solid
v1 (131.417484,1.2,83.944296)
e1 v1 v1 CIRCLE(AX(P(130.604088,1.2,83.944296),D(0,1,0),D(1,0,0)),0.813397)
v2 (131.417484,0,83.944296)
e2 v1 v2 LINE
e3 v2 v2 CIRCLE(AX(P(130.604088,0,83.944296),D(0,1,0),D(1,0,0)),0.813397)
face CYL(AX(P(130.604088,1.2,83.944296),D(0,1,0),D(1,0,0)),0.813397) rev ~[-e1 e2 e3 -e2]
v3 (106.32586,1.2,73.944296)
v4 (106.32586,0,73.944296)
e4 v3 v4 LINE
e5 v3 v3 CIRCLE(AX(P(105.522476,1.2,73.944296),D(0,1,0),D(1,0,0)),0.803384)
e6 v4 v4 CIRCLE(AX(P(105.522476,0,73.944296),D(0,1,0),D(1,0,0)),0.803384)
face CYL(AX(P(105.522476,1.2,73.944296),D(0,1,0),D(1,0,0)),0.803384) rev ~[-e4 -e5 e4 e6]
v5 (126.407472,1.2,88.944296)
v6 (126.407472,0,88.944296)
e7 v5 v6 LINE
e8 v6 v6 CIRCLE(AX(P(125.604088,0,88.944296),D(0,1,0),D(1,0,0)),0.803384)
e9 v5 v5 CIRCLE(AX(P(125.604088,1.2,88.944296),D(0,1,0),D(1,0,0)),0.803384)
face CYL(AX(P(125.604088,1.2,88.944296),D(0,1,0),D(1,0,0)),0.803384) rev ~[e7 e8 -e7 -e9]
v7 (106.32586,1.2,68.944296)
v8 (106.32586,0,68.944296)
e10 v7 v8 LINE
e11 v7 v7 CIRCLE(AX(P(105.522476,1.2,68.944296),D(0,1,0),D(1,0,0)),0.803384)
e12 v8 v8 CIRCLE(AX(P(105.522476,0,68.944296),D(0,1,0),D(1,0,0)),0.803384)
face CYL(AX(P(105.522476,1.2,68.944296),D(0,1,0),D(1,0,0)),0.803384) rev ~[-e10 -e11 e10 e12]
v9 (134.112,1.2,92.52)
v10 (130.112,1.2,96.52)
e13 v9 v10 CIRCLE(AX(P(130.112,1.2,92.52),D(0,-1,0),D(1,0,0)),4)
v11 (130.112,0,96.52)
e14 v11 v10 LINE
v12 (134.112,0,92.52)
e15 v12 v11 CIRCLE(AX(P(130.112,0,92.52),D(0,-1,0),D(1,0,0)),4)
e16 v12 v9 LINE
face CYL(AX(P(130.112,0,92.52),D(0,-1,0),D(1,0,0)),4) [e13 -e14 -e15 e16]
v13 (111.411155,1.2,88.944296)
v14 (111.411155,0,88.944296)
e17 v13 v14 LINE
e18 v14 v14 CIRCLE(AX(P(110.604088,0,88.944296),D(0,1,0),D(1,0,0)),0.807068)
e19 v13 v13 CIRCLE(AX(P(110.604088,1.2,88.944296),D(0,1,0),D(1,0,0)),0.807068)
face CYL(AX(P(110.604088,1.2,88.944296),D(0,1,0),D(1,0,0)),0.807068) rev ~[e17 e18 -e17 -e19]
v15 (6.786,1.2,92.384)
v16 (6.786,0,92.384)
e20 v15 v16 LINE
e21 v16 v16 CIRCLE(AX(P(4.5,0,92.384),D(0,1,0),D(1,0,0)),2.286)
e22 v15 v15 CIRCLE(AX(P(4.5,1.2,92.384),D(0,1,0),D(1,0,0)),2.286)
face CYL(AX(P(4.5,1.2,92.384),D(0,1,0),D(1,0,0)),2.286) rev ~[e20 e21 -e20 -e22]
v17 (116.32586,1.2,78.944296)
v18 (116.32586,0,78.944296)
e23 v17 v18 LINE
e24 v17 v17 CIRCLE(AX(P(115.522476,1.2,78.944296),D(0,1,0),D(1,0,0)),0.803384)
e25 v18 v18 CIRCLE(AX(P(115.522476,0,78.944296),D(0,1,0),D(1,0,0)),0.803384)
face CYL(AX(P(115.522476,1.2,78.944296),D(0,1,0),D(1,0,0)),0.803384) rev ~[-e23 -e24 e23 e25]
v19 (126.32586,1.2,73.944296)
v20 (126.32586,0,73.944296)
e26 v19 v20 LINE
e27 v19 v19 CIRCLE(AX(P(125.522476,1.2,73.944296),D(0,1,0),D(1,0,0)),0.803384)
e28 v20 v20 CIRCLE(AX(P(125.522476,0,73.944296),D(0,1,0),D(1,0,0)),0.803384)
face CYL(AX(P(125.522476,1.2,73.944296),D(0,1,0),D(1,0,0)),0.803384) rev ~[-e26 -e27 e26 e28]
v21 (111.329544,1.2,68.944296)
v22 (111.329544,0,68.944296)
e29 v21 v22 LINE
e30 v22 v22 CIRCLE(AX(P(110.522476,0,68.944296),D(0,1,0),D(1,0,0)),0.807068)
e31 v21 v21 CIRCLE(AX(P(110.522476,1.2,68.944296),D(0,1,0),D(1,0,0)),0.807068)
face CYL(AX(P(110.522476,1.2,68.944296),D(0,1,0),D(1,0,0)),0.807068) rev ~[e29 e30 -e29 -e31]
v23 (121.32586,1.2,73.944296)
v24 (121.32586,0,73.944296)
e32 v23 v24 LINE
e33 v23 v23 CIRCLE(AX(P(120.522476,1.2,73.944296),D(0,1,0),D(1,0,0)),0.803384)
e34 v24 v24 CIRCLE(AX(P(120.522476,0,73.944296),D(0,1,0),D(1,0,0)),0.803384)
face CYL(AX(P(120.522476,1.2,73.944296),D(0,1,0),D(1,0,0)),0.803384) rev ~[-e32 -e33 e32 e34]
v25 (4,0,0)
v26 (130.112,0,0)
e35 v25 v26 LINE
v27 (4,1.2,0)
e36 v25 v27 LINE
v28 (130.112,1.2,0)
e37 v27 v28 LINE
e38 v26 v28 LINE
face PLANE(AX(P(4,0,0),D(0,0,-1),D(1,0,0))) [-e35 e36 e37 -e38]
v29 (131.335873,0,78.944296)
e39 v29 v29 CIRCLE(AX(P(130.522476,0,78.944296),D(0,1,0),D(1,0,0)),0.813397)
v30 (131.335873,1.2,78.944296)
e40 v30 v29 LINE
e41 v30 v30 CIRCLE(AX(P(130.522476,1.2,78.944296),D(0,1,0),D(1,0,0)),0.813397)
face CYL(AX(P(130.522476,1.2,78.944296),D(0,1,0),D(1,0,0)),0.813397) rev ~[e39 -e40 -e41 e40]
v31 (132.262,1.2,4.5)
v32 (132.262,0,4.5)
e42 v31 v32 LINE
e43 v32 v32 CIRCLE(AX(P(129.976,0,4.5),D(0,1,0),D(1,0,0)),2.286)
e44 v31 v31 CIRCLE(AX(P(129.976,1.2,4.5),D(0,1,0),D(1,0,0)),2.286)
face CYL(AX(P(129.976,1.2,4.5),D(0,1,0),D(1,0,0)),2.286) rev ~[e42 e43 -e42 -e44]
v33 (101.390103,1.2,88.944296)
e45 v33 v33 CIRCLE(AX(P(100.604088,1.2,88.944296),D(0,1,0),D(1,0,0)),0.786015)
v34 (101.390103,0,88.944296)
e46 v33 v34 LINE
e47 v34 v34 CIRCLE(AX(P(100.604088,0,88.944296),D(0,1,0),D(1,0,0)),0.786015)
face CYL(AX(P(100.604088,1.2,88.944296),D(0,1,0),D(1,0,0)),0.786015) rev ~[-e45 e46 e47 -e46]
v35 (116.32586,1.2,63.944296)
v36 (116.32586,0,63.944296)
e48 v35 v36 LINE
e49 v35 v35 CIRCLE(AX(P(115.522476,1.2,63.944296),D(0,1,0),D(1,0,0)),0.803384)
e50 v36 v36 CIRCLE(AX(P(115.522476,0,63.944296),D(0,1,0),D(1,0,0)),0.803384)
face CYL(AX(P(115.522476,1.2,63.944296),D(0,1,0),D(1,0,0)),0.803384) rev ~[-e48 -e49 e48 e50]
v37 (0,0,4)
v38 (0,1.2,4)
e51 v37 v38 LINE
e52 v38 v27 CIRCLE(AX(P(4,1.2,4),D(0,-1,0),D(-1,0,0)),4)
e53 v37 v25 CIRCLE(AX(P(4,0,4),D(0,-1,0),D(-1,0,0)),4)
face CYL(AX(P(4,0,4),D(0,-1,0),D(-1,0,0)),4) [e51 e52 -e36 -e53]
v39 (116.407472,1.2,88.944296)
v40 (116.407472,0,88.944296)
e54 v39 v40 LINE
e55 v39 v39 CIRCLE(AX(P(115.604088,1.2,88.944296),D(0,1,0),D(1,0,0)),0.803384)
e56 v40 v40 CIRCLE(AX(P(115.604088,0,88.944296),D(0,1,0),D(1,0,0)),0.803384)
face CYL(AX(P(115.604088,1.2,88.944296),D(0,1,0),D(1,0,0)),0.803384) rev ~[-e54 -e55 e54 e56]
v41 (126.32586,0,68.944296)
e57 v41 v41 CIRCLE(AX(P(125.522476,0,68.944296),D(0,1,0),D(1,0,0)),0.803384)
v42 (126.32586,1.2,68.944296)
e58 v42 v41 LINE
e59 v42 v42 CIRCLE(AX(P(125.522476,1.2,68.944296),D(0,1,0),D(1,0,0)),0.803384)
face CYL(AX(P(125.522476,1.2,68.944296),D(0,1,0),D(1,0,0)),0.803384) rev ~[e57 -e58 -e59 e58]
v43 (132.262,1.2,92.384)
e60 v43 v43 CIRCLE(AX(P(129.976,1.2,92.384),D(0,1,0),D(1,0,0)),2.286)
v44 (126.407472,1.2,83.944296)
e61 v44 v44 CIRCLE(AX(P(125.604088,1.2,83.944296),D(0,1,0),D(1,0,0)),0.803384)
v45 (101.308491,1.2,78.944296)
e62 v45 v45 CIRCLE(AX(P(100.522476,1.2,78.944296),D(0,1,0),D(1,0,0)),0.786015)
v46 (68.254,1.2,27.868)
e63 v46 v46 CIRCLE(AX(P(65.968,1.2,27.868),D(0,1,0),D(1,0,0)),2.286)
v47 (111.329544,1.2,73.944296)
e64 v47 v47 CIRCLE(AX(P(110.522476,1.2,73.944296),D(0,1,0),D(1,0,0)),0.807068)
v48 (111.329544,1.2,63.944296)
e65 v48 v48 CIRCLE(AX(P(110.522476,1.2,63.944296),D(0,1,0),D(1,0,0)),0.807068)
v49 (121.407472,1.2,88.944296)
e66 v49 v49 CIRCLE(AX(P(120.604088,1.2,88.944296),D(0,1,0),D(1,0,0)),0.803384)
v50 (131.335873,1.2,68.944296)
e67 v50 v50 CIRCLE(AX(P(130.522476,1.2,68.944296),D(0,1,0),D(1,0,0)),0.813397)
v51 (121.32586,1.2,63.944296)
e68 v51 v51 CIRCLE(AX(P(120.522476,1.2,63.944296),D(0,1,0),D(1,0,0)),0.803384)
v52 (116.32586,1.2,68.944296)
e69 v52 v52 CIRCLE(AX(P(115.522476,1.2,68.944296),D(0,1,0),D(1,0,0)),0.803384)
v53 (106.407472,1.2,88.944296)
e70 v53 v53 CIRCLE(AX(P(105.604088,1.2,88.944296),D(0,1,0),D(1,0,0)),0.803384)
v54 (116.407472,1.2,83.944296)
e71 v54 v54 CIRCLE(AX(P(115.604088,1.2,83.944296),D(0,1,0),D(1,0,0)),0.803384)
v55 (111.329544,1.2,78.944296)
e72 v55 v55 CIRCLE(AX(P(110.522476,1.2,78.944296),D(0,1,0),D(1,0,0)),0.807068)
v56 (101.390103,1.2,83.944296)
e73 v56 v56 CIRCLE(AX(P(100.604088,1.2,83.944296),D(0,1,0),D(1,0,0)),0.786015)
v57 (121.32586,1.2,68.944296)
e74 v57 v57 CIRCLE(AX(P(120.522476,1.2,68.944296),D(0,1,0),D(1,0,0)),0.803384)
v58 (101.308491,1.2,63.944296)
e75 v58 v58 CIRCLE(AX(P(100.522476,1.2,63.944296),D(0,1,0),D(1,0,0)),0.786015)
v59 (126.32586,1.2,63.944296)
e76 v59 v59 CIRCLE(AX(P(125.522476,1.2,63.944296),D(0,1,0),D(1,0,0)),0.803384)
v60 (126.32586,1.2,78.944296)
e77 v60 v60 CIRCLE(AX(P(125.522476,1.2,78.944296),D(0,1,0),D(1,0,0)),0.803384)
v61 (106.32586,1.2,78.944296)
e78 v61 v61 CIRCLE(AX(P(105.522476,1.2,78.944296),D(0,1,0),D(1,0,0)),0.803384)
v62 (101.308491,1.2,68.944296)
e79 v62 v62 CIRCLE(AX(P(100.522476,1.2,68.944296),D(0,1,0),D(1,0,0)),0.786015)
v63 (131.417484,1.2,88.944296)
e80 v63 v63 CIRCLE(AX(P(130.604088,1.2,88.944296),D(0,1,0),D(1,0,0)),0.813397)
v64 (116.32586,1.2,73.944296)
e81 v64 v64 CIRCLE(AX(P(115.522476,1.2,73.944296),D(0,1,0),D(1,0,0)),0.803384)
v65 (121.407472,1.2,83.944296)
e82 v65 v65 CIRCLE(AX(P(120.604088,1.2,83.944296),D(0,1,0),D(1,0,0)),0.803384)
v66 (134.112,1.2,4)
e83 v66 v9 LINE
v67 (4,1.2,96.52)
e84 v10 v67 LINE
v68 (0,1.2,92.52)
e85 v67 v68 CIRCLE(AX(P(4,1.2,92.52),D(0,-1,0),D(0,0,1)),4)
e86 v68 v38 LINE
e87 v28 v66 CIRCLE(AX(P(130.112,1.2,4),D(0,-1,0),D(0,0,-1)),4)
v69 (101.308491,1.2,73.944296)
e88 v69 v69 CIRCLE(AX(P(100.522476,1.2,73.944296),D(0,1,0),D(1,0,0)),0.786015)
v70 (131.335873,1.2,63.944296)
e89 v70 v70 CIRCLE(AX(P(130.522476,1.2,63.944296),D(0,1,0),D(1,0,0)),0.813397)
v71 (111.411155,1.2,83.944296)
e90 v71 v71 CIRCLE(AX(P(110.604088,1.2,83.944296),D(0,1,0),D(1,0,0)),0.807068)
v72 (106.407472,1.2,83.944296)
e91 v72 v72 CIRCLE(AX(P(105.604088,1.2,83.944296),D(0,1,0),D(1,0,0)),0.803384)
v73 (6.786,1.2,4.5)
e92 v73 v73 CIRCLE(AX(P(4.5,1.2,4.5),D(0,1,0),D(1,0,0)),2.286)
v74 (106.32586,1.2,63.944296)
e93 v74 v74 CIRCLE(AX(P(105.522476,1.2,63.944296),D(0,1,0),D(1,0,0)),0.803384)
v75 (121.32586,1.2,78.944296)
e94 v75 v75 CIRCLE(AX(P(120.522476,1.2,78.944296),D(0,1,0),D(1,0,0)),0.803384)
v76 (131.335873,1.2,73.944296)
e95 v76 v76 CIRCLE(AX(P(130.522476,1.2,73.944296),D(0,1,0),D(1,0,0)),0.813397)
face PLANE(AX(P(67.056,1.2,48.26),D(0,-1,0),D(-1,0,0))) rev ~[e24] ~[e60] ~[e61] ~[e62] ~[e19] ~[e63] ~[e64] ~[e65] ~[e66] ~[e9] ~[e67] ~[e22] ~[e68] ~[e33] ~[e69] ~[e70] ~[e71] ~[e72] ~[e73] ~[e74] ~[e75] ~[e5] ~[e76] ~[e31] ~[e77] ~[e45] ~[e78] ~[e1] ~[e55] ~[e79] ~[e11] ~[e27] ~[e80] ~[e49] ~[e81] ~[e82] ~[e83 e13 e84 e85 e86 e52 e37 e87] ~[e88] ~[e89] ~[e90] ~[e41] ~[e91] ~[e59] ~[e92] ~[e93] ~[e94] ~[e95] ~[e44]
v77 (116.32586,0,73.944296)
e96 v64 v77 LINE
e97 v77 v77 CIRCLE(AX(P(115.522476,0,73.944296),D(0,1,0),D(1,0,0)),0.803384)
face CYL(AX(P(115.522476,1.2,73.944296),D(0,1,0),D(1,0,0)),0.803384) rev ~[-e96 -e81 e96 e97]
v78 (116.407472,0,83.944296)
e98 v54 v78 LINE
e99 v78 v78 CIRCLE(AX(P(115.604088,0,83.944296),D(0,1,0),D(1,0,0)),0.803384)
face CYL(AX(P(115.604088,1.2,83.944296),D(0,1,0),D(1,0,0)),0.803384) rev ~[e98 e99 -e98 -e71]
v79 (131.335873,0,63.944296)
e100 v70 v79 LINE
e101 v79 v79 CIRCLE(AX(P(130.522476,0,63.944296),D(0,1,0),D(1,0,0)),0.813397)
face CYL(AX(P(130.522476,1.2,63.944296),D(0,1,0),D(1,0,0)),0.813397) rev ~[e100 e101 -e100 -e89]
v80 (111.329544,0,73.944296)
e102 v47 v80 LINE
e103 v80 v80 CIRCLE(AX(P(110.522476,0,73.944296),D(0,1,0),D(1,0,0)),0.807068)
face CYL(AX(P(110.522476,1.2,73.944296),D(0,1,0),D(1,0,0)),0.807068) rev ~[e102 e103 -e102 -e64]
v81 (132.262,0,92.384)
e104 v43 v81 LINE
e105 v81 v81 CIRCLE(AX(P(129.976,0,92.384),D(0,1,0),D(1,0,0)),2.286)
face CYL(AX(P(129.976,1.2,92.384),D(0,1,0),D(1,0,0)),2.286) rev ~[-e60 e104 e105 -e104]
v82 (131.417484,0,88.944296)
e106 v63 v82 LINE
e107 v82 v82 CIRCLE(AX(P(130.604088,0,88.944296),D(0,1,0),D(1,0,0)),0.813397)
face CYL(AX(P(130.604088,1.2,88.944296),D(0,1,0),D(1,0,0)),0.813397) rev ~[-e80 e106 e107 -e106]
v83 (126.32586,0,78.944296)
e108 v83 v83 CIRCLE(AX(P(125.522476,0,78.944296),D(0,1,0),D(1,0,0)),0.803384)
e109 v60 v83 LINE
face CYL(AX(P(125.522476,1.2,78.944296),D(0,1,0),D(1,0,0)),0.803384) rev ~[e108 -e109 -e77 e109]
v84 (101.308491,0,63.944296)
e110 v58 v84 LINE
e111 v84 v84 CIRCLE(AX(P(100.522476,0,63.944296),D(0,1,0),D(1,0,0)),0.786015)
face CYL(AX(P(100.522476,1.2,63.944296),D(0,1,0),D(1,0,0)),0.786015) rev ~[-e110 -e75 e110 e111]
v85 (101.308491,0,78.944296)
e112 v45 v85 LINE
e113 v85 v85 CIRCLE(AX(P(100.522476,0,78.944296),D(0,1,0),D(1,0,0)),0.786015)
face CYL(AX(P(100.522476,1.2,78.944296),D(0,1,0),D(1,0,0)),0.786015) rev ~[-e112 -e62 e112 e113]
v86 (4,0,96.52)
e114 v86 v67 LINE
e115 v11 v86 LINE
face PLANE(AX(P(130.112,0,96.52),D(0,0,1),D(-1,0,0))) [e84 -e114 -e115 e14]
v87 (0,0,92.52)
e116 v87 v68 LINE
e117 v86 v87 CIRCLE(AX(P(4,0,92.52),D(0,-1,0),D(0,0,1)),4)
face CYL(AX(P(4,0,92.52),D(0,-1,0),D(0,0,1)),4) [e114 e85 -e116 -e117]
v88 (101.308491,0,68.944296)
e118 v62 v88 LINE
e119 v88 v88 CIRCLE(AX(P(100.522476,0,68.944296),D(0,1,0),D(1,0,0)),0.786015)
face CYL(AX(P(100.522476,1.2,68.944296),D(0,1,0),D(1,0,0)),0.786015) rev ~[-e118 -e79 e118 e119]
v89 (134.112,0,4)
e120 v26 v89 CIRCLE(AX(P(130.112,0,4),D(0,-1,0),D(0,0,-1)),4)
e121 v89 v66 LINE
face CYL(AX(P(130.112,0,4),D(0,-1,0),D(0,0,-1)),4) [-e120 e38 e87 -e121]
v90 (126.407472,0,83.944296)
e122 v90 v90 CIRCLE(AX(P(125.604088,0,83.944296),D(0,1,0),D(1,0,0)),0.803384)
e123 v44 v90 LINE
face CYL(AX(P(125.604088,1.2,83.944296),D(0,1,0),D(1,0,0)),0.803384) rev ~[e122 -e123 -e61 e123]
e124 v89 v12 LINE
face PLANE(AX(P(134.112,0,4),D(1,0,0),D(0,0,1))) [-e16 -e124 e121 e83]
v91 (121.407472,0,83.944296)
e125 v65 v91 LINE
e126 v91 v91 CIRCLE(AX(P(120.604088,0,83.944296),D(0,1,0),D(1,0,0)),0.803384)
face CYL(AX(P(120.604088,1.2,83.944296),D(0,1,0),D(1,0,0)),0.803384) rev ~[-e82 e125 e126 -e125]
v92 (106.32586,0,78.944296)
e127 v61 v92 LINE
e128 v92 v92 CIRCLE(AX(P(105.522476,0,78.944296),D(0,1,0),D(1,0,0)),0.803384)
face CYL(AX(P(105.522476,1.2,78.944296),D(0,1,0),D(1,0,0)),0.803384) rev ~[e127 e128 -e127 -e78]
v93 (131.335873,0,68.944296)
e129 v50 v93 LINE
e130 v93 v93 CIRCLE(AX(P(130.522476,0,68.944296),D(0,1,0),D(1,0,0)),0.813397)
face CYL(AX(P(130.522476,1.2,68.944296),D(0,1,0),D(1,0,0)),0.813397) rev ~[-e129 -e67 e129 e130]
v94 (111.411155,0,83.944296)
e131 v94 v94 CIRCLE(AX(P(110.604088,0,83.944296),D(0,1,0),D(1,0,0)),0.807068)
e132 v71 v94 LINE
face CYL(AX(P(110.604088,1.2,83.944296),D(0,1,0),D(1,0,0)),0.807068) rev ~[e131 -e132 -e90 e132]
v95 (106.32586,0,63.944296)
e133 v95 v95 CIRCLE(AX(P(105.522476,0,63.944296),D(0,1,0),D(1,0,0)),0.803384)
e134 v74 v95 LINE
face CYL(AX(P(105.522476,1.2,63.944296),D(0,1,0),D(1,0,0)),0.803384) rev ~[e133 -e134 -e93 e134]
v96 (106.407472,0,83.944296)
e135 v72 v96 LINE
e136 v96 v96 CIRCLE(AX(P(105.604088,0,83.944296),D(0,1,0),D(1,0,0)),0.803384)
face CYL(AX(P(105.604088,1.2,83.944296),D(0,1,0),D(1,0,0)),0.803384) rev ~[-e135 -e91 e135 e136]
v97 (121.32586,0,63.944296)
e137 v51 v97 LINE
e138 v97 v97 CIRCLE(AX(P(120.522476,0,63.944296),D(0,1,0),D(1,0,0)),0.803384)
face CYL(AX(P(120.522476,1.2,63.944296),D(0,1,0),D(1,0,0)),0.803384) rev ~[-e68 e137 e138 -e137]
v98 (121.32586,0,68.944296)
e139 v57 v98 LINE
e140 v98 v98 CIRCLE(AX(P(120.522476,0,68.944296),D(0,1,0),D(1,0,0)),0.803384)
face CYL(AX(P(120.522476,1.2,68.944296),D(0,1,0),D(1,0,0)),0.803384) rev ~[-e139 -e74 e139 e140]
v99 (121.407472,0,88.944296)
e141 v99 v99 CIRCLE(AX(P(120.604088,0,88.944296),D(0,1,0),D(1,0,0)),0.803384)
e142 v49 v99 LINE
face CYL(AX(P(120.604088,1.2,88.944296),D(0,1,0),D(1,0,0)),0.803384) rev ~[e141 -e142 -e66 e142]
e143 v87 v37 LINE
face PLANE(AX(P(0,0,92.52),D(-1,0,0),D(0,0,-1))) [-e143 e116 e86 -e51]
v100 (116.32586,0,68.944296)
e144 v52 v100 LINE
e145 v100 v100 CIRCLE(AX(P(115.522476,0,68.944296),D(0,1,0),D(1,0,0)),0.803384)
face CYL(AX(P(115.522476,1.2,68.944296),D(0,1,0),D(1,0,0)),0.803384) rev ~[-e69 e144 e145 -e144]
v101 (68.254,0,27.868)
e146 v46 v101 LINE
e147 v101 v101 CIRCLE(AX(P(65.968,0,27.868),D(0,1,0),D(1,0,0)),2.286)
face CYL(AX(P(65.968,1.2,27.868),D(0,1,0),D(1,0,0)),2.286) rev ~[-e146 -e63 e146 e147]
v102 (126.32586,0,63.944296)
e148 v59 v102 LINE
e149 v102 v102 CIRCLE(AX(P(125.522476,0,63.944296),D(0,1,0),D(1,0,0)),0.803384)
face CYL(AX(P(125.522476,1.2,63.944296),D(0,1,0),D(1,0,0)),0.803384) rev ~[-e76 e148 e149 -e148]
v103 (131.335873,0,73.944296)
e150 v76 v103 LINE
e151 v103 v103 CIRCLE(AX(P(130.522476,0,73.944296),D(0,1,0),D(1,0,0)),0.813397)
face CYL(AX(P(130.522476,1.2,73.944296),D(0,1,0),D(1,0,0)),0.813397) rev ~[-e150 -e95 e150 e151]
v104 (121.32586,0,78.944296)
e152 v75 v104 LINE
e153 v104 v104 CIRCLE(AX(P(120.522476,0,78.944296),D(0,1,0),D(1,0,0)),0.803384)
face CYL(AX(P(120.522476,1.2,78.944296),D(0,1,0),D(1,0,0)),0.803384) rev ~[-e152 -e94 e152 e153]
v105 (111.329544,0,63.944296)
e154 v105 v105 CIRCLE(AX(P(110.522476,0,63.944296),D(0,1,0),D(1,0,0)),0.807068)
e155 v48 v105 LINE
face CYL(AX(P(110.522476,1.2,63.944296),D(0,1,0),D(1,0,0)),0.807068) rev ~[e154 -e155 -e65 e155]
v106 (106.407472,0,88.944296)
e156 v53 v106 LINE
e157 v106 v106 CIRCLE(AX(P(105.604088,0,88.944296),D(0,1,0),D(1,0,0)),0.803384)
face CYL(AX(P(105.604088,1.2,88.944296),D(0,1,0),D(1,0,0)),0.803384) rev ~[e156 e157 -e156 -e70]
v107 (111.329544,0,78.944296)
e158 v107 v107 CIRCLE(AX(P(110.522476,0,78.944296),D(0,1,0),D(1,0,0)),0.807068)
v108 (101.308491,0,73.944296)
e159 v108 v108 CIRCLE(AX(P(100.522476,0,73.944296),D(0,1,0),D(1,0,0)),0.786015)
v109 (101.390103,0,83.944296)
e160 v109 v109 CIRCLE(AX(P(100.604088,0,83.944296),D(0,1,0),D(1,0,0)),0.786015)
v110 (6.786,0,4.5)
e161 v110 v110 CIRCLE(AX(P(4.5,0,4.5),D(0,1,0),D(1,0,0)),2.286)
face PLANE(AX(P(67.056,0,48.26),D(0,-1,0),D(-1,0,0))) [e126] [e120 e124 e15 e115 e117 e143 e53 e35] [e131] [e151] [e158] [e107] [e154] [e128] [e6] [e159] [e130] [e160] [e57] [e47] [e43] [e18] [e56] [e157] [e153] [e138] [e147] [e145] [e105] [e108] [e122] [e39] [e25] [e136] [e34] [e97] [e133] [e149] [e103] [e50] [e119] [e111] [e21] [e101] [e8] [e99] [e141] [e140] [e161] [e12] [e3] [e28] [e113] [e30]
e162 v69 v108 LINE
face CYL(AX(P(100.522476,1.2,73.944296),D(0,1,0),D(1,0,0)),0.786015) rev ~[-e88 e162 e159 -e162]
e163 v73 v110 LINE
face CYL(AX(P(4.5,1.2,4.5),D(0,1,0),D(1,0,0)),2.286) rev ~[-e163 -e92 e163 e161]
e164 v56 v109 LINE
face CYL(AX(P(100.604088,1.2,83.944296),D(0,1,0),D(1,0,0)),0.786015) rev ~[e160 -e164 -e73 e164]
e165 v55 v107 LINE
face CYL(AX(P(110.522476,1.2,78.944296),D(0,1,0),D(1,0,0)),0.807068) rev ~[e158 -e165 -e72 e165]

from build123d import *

# Parameters (mm, degrees)
EXTRUSION1_DEPTH        = 1.2
ENL_V_MAT_EXTRU_2_REACH = 3.2
TROUS_FIXATION_R        = 2.286
ESQUISSE4_R             = 0.786015169
ESQUISSE4_R_2           = 0.803384231
ESQUISSE4_R_3           = 0.807067653
ESQUISSE4_R_4           = 0.813396678
ENL_V_MAT_EXTRU_3_DEPTH = 1.2


with BuildPart() as part:
    # Carte → Extrusion1 (new body)
    with BuildSketch(Plane(origin=(0, 0, 0), x_dir=(1, 0, 0), z_dir=(0, 1, 0))):
        with BuildLine():
            Line((4, 0), (130.112, 0))
            ThreePointArc((130.112, 0), (132.940427125, -1.171572875), (134.112, -4))
            Line((134.112, -4), (134.112, -92.52))
            ThreePointArc((134.112, -92.52), (132.940427125, -95.348427125), (130.112, -96.52))
            Line((130.112, -96.52), (4, -96.52))
            ThreePointArc((4, -96.52), (1.171572875, -95.348427125), (0, -92.52))
            Line((0, -92.52), (0, -4))
            ThreePointArc((0, -4), (1.171572875, -1.171572875), (4, 0))
        make_face()
    extrude(amount=EXTRUSION1_DEPTH)

    # Trous fixation → Enlèv. mat.-Extru.2 (cut, up to next)
    with BuildSketch(Plane(origin=(0, 1.2, 0), x_dir=(1, 0, 0), z_dir=(0, 1, 0)), mode=Mode.PRIVATE) as enl_v_mat_extru_2_sk1:
        with Locations((4.5, -4.5)):
            Circle(TROUS_FIXATION_R)
    enl_v_mat_extru_2_tool1 = extrude(enl_v_mat_extru_2_sk1.sketch, amount=-ENL_V_MAT_EXTRU_2_REACH, mode=Mode.PRIVATE) & part.part
    add(enl_v_mat_extru_2_tool1.solids().sort_by_distance((4.5, 1.2, 4.5))[0], mode=Mode.SUBTRACT)
    # Trous fixation → Enlèv. mat.-Extru.2 (cut, up to next)
    with BuildSketch(Plane(origin=(0, 1.2, 0), x_dir=(1, 0, 0), z_dir=(0, 1, 0)), mode=Mode.PRIVATE) as enl_v_mat_extru_2_sk2:
        with Locations((129.976, -4.5)):
            Circle(TROUS_FIXATION_R)
    enl_v_mat_extru_2_tool2 = extrude(enl_v_mat_extru_2_sk2.sketch, amount=-ENL_V_MAT_EXTRU_2_REACH, mode=Mode.PRIVATE) & part.part
    add(enl_v_mat_extru_2_tool2.solids().sort_by_distance((129.976, 1.2, 4.5))[0], mode=Mode.SUBTRACT)
    # Trous fixation → Enlèv. mat.-Extru.2 (cut, up to next)
    with BuildSketch(Plane(origin=(0, 1.2, 0), x_dir=(1, 0, 0), z_dir=(0, 1, 0)), mode=Mode.PRIVATE) as enl_v_mat_extru_2_sk3:
        with Locations((129.976, -92.384)):
            Circle(TROUS_FIXATION_R)
    enl_v_mat_extru_2_tool3 = extrude(enl_v_mat_extru_2_sk3.sketch, amount=-ENL_V_MAT_EXTRU_2_REACH, mode=Mode.PRIVATE) & part.part
    add(enl_v_mat_extru_2_tool3.solids().sort_by_distance((129.976, 1.2, 92.384))[0], mode=Mode.SUBTRACT)
    # Trous fixation → Enlèv. mat.-Extru.2 (cut, up to next)
    with BuildSketch(Plane(origin=(0, 1.2, 0), x_dir=(1, 0, 0), z_dir=(0, 1, 0)), mode=Mode.PRIVATE) as enl_v_mat_extru_2_sk4:
        with Locations((4.5, -92.384)):
            Circle(TROUS_FIXATION_R)
    enl_v_mat_extru_2_tool4 = extrude(enl_v_mat_extru_2_sk4.sketch, amount=-ENL_V_MAT_EXTRU_2_REACH, mode=Mode.PRIVATE) & part.part
    add(enl_v_mat_extru_2_tool4.solids().sort_by_distance((4.5, 1.2, 92.384))[0], mode=Mode.SUBTRACT)
    # Trous fixation → Enlèv. mat.-Extru.2 (cut, up to next)
    with BuildSketch(Plane(origin=(0, 1.2, 0), x_dir=(1, 0, 0), z_dir=(0, 1, 0)), mode=Mode.PRIVATE) as enl_v_mat_extru_2_sk5:
        with Locations((65.968, -27.868)):
            Circle(TROUS_FIXATION_R)
    enl_v_mat_extru_2_tool5 = extrude(enl_v_mat_extru_2_sk5.sketch, amount=-ENL_V_MAT_EXTRU_2_REACH, mode=Mode.PRIVATE) & part.part
    add(enl_v_mat_extru_2_tool5.solids().sort_by_distance((65.968, 1.2, 27.868))[0], mode=Mode.SUBTRACT)

    # Esquisse4 → Enlèv. mat.-Extru.3 (cut)
    with BuildSketch(Plane(origin=(0, 1.2, 0), x_dir=(1, 0, 0), z_dir=(0, 1, 0))):
        with Locations((100.522476241, -63.944295872)):
            Circle(ESQUISSE4_R)
        with Locations((105.522476241, -63.944295872)):
            Circle(ESQUISSE4_R_2)
        with Locations((110.522476241, -63.944295872)):
            Circle(ESQUISSE4_R_3)
        with Locations((115.522476241, -63.944295872)):
            Circle(ESQUISSE4_R_2)
        with Locations((120.522476241, -63.944295872)):
            Circle(ESQUISSE4_R_2)
        with Locations((125.522476241, -63.944295872)):
            Circle(ESQUISSE4_R_2)
        with Locations((130.522476241, -63.944295872)):
            Circle(ESQUISSE4_R_4)
        with Locations((125.522476241, -68.944295872)):
            Circle(ESQUISSE4_R_2)
        with Locations((105.522476241, -68.944295872)):
            Circle(ESQUISSE4_R_2)
        with Locations((115.522476241, -68.944295872)):
            Circle(ESQUISSE4_R_2)
        with Locations((100.522476241, -68.944295872)):
            Circle(ESQUISSE4_R)
        with Locations((120.522476241, -68.944295872)):
            Circle(ESQUISSE4_R_2)
        with Locations((110.522476241, -68.944295872)):
            Circle(ESQUISSE4_R_3)
        with Locations((130.522476241, -68.944295872)):
            Circle(ESQUISSE4_R_4)
        with Locations((105.522476241, -78.944295872)):
            Circle(ESQUISSE4_R_2)
        with Locations((115.522476241, -73.944295872)):
            Circle(ESQUISSE4_R_2)
        with Locations((120.522476241, -78.944295872)):
            Circle(ESQUISSE4_R_2)
        with Locations((110.522476241, -73.944295872)):
            Circle(ESQUISSE4_R_3)
        with Locations((100.522476241, -78.944295872)):
            Circle(ESQUISSE4_R)
        with Locations((130.522476241, -73.944295872)):
            Circle(ESQUISSE4_R_4)
        with Locations((130.522476241, -78.944295872)):
            Circle(ESQUISSE4_R_4)
        with Locations((115.522476241, -78.944295872)):
            Circle(ESQUISSE4_R_2)
        with Locations((105.522476241, -73.944295872)):
            Circle(ESQUISSE4_R_2)
        with Locations((125.522476241, -73.944295872)):
            Circle(ESQUISSE4_R_2)
        with Locations((110.522476241, -78.944295872)):
            Circle(ESQUISSE4_R_3)
        with Locations((120.522476241, -73.944295872)):
            Circle(ESQUISSE4_R_2)
        with Locations((125.522476241, -78.944295872)):
            Circle(ESQUISSE4_R_2)
        with Locations((100.522476241, -73.944295872)):
            Circle(ESQUISSE4_R)
        with Locations((100.604087819, -83.944295872)):
            Circle(ESQUISSE4_R)
        with Locations((105.604087819, -83.944295872)):
            Circle(ESQUISSE4_R_2)
        with Locations((110.604087819, -83.944295872)):
            Circle(ESQUISSE4_R_3)
        with Locations((115.604087819, -83.944295872)):
            Circle(ESQUISSE4_R_2)
        with Locations((120.604087819, -83.944295872)):
            Circle(ESQUISSE4_R_2)
        with Locations((125.604087819, -83.944295872)):
            Circle(ESQUISSE4_R_2)
        with Locations((130.604087819, -83.944295872)):
            Circle(ESQUISSE4_R_4)
        with Locations((125.604087819, -88.944295872)):
            Circle(ESQUISSE4_R_2)
        with Locations((105.604087819, -88.944295872)):
            Circle(ESQUISSE4_R_2)
        with Locations((115.604087819, -88.944295872)):
            Circle(ESQUISSE4_R_2)
        with Locations((100.604087819, -88.944295872)):
            Circle(ESQUISSE4_R)
        with Locations((120.604087819, -88.944295872)):
            Circle(ESQUISSE4_R_2)
        with Locations((110.604087819, -88.944295872)):
            Circle(ESQUISSE4_R_3)
        with Locations((130.604087819, -88.944295872)):
            Circle(ESQUISSE4_R_4)
    extrude(amount=-ENL_V_MAT_EXTRU_3_DEPTH, mode=Mode.SUBTRACT)


solid = part.part
